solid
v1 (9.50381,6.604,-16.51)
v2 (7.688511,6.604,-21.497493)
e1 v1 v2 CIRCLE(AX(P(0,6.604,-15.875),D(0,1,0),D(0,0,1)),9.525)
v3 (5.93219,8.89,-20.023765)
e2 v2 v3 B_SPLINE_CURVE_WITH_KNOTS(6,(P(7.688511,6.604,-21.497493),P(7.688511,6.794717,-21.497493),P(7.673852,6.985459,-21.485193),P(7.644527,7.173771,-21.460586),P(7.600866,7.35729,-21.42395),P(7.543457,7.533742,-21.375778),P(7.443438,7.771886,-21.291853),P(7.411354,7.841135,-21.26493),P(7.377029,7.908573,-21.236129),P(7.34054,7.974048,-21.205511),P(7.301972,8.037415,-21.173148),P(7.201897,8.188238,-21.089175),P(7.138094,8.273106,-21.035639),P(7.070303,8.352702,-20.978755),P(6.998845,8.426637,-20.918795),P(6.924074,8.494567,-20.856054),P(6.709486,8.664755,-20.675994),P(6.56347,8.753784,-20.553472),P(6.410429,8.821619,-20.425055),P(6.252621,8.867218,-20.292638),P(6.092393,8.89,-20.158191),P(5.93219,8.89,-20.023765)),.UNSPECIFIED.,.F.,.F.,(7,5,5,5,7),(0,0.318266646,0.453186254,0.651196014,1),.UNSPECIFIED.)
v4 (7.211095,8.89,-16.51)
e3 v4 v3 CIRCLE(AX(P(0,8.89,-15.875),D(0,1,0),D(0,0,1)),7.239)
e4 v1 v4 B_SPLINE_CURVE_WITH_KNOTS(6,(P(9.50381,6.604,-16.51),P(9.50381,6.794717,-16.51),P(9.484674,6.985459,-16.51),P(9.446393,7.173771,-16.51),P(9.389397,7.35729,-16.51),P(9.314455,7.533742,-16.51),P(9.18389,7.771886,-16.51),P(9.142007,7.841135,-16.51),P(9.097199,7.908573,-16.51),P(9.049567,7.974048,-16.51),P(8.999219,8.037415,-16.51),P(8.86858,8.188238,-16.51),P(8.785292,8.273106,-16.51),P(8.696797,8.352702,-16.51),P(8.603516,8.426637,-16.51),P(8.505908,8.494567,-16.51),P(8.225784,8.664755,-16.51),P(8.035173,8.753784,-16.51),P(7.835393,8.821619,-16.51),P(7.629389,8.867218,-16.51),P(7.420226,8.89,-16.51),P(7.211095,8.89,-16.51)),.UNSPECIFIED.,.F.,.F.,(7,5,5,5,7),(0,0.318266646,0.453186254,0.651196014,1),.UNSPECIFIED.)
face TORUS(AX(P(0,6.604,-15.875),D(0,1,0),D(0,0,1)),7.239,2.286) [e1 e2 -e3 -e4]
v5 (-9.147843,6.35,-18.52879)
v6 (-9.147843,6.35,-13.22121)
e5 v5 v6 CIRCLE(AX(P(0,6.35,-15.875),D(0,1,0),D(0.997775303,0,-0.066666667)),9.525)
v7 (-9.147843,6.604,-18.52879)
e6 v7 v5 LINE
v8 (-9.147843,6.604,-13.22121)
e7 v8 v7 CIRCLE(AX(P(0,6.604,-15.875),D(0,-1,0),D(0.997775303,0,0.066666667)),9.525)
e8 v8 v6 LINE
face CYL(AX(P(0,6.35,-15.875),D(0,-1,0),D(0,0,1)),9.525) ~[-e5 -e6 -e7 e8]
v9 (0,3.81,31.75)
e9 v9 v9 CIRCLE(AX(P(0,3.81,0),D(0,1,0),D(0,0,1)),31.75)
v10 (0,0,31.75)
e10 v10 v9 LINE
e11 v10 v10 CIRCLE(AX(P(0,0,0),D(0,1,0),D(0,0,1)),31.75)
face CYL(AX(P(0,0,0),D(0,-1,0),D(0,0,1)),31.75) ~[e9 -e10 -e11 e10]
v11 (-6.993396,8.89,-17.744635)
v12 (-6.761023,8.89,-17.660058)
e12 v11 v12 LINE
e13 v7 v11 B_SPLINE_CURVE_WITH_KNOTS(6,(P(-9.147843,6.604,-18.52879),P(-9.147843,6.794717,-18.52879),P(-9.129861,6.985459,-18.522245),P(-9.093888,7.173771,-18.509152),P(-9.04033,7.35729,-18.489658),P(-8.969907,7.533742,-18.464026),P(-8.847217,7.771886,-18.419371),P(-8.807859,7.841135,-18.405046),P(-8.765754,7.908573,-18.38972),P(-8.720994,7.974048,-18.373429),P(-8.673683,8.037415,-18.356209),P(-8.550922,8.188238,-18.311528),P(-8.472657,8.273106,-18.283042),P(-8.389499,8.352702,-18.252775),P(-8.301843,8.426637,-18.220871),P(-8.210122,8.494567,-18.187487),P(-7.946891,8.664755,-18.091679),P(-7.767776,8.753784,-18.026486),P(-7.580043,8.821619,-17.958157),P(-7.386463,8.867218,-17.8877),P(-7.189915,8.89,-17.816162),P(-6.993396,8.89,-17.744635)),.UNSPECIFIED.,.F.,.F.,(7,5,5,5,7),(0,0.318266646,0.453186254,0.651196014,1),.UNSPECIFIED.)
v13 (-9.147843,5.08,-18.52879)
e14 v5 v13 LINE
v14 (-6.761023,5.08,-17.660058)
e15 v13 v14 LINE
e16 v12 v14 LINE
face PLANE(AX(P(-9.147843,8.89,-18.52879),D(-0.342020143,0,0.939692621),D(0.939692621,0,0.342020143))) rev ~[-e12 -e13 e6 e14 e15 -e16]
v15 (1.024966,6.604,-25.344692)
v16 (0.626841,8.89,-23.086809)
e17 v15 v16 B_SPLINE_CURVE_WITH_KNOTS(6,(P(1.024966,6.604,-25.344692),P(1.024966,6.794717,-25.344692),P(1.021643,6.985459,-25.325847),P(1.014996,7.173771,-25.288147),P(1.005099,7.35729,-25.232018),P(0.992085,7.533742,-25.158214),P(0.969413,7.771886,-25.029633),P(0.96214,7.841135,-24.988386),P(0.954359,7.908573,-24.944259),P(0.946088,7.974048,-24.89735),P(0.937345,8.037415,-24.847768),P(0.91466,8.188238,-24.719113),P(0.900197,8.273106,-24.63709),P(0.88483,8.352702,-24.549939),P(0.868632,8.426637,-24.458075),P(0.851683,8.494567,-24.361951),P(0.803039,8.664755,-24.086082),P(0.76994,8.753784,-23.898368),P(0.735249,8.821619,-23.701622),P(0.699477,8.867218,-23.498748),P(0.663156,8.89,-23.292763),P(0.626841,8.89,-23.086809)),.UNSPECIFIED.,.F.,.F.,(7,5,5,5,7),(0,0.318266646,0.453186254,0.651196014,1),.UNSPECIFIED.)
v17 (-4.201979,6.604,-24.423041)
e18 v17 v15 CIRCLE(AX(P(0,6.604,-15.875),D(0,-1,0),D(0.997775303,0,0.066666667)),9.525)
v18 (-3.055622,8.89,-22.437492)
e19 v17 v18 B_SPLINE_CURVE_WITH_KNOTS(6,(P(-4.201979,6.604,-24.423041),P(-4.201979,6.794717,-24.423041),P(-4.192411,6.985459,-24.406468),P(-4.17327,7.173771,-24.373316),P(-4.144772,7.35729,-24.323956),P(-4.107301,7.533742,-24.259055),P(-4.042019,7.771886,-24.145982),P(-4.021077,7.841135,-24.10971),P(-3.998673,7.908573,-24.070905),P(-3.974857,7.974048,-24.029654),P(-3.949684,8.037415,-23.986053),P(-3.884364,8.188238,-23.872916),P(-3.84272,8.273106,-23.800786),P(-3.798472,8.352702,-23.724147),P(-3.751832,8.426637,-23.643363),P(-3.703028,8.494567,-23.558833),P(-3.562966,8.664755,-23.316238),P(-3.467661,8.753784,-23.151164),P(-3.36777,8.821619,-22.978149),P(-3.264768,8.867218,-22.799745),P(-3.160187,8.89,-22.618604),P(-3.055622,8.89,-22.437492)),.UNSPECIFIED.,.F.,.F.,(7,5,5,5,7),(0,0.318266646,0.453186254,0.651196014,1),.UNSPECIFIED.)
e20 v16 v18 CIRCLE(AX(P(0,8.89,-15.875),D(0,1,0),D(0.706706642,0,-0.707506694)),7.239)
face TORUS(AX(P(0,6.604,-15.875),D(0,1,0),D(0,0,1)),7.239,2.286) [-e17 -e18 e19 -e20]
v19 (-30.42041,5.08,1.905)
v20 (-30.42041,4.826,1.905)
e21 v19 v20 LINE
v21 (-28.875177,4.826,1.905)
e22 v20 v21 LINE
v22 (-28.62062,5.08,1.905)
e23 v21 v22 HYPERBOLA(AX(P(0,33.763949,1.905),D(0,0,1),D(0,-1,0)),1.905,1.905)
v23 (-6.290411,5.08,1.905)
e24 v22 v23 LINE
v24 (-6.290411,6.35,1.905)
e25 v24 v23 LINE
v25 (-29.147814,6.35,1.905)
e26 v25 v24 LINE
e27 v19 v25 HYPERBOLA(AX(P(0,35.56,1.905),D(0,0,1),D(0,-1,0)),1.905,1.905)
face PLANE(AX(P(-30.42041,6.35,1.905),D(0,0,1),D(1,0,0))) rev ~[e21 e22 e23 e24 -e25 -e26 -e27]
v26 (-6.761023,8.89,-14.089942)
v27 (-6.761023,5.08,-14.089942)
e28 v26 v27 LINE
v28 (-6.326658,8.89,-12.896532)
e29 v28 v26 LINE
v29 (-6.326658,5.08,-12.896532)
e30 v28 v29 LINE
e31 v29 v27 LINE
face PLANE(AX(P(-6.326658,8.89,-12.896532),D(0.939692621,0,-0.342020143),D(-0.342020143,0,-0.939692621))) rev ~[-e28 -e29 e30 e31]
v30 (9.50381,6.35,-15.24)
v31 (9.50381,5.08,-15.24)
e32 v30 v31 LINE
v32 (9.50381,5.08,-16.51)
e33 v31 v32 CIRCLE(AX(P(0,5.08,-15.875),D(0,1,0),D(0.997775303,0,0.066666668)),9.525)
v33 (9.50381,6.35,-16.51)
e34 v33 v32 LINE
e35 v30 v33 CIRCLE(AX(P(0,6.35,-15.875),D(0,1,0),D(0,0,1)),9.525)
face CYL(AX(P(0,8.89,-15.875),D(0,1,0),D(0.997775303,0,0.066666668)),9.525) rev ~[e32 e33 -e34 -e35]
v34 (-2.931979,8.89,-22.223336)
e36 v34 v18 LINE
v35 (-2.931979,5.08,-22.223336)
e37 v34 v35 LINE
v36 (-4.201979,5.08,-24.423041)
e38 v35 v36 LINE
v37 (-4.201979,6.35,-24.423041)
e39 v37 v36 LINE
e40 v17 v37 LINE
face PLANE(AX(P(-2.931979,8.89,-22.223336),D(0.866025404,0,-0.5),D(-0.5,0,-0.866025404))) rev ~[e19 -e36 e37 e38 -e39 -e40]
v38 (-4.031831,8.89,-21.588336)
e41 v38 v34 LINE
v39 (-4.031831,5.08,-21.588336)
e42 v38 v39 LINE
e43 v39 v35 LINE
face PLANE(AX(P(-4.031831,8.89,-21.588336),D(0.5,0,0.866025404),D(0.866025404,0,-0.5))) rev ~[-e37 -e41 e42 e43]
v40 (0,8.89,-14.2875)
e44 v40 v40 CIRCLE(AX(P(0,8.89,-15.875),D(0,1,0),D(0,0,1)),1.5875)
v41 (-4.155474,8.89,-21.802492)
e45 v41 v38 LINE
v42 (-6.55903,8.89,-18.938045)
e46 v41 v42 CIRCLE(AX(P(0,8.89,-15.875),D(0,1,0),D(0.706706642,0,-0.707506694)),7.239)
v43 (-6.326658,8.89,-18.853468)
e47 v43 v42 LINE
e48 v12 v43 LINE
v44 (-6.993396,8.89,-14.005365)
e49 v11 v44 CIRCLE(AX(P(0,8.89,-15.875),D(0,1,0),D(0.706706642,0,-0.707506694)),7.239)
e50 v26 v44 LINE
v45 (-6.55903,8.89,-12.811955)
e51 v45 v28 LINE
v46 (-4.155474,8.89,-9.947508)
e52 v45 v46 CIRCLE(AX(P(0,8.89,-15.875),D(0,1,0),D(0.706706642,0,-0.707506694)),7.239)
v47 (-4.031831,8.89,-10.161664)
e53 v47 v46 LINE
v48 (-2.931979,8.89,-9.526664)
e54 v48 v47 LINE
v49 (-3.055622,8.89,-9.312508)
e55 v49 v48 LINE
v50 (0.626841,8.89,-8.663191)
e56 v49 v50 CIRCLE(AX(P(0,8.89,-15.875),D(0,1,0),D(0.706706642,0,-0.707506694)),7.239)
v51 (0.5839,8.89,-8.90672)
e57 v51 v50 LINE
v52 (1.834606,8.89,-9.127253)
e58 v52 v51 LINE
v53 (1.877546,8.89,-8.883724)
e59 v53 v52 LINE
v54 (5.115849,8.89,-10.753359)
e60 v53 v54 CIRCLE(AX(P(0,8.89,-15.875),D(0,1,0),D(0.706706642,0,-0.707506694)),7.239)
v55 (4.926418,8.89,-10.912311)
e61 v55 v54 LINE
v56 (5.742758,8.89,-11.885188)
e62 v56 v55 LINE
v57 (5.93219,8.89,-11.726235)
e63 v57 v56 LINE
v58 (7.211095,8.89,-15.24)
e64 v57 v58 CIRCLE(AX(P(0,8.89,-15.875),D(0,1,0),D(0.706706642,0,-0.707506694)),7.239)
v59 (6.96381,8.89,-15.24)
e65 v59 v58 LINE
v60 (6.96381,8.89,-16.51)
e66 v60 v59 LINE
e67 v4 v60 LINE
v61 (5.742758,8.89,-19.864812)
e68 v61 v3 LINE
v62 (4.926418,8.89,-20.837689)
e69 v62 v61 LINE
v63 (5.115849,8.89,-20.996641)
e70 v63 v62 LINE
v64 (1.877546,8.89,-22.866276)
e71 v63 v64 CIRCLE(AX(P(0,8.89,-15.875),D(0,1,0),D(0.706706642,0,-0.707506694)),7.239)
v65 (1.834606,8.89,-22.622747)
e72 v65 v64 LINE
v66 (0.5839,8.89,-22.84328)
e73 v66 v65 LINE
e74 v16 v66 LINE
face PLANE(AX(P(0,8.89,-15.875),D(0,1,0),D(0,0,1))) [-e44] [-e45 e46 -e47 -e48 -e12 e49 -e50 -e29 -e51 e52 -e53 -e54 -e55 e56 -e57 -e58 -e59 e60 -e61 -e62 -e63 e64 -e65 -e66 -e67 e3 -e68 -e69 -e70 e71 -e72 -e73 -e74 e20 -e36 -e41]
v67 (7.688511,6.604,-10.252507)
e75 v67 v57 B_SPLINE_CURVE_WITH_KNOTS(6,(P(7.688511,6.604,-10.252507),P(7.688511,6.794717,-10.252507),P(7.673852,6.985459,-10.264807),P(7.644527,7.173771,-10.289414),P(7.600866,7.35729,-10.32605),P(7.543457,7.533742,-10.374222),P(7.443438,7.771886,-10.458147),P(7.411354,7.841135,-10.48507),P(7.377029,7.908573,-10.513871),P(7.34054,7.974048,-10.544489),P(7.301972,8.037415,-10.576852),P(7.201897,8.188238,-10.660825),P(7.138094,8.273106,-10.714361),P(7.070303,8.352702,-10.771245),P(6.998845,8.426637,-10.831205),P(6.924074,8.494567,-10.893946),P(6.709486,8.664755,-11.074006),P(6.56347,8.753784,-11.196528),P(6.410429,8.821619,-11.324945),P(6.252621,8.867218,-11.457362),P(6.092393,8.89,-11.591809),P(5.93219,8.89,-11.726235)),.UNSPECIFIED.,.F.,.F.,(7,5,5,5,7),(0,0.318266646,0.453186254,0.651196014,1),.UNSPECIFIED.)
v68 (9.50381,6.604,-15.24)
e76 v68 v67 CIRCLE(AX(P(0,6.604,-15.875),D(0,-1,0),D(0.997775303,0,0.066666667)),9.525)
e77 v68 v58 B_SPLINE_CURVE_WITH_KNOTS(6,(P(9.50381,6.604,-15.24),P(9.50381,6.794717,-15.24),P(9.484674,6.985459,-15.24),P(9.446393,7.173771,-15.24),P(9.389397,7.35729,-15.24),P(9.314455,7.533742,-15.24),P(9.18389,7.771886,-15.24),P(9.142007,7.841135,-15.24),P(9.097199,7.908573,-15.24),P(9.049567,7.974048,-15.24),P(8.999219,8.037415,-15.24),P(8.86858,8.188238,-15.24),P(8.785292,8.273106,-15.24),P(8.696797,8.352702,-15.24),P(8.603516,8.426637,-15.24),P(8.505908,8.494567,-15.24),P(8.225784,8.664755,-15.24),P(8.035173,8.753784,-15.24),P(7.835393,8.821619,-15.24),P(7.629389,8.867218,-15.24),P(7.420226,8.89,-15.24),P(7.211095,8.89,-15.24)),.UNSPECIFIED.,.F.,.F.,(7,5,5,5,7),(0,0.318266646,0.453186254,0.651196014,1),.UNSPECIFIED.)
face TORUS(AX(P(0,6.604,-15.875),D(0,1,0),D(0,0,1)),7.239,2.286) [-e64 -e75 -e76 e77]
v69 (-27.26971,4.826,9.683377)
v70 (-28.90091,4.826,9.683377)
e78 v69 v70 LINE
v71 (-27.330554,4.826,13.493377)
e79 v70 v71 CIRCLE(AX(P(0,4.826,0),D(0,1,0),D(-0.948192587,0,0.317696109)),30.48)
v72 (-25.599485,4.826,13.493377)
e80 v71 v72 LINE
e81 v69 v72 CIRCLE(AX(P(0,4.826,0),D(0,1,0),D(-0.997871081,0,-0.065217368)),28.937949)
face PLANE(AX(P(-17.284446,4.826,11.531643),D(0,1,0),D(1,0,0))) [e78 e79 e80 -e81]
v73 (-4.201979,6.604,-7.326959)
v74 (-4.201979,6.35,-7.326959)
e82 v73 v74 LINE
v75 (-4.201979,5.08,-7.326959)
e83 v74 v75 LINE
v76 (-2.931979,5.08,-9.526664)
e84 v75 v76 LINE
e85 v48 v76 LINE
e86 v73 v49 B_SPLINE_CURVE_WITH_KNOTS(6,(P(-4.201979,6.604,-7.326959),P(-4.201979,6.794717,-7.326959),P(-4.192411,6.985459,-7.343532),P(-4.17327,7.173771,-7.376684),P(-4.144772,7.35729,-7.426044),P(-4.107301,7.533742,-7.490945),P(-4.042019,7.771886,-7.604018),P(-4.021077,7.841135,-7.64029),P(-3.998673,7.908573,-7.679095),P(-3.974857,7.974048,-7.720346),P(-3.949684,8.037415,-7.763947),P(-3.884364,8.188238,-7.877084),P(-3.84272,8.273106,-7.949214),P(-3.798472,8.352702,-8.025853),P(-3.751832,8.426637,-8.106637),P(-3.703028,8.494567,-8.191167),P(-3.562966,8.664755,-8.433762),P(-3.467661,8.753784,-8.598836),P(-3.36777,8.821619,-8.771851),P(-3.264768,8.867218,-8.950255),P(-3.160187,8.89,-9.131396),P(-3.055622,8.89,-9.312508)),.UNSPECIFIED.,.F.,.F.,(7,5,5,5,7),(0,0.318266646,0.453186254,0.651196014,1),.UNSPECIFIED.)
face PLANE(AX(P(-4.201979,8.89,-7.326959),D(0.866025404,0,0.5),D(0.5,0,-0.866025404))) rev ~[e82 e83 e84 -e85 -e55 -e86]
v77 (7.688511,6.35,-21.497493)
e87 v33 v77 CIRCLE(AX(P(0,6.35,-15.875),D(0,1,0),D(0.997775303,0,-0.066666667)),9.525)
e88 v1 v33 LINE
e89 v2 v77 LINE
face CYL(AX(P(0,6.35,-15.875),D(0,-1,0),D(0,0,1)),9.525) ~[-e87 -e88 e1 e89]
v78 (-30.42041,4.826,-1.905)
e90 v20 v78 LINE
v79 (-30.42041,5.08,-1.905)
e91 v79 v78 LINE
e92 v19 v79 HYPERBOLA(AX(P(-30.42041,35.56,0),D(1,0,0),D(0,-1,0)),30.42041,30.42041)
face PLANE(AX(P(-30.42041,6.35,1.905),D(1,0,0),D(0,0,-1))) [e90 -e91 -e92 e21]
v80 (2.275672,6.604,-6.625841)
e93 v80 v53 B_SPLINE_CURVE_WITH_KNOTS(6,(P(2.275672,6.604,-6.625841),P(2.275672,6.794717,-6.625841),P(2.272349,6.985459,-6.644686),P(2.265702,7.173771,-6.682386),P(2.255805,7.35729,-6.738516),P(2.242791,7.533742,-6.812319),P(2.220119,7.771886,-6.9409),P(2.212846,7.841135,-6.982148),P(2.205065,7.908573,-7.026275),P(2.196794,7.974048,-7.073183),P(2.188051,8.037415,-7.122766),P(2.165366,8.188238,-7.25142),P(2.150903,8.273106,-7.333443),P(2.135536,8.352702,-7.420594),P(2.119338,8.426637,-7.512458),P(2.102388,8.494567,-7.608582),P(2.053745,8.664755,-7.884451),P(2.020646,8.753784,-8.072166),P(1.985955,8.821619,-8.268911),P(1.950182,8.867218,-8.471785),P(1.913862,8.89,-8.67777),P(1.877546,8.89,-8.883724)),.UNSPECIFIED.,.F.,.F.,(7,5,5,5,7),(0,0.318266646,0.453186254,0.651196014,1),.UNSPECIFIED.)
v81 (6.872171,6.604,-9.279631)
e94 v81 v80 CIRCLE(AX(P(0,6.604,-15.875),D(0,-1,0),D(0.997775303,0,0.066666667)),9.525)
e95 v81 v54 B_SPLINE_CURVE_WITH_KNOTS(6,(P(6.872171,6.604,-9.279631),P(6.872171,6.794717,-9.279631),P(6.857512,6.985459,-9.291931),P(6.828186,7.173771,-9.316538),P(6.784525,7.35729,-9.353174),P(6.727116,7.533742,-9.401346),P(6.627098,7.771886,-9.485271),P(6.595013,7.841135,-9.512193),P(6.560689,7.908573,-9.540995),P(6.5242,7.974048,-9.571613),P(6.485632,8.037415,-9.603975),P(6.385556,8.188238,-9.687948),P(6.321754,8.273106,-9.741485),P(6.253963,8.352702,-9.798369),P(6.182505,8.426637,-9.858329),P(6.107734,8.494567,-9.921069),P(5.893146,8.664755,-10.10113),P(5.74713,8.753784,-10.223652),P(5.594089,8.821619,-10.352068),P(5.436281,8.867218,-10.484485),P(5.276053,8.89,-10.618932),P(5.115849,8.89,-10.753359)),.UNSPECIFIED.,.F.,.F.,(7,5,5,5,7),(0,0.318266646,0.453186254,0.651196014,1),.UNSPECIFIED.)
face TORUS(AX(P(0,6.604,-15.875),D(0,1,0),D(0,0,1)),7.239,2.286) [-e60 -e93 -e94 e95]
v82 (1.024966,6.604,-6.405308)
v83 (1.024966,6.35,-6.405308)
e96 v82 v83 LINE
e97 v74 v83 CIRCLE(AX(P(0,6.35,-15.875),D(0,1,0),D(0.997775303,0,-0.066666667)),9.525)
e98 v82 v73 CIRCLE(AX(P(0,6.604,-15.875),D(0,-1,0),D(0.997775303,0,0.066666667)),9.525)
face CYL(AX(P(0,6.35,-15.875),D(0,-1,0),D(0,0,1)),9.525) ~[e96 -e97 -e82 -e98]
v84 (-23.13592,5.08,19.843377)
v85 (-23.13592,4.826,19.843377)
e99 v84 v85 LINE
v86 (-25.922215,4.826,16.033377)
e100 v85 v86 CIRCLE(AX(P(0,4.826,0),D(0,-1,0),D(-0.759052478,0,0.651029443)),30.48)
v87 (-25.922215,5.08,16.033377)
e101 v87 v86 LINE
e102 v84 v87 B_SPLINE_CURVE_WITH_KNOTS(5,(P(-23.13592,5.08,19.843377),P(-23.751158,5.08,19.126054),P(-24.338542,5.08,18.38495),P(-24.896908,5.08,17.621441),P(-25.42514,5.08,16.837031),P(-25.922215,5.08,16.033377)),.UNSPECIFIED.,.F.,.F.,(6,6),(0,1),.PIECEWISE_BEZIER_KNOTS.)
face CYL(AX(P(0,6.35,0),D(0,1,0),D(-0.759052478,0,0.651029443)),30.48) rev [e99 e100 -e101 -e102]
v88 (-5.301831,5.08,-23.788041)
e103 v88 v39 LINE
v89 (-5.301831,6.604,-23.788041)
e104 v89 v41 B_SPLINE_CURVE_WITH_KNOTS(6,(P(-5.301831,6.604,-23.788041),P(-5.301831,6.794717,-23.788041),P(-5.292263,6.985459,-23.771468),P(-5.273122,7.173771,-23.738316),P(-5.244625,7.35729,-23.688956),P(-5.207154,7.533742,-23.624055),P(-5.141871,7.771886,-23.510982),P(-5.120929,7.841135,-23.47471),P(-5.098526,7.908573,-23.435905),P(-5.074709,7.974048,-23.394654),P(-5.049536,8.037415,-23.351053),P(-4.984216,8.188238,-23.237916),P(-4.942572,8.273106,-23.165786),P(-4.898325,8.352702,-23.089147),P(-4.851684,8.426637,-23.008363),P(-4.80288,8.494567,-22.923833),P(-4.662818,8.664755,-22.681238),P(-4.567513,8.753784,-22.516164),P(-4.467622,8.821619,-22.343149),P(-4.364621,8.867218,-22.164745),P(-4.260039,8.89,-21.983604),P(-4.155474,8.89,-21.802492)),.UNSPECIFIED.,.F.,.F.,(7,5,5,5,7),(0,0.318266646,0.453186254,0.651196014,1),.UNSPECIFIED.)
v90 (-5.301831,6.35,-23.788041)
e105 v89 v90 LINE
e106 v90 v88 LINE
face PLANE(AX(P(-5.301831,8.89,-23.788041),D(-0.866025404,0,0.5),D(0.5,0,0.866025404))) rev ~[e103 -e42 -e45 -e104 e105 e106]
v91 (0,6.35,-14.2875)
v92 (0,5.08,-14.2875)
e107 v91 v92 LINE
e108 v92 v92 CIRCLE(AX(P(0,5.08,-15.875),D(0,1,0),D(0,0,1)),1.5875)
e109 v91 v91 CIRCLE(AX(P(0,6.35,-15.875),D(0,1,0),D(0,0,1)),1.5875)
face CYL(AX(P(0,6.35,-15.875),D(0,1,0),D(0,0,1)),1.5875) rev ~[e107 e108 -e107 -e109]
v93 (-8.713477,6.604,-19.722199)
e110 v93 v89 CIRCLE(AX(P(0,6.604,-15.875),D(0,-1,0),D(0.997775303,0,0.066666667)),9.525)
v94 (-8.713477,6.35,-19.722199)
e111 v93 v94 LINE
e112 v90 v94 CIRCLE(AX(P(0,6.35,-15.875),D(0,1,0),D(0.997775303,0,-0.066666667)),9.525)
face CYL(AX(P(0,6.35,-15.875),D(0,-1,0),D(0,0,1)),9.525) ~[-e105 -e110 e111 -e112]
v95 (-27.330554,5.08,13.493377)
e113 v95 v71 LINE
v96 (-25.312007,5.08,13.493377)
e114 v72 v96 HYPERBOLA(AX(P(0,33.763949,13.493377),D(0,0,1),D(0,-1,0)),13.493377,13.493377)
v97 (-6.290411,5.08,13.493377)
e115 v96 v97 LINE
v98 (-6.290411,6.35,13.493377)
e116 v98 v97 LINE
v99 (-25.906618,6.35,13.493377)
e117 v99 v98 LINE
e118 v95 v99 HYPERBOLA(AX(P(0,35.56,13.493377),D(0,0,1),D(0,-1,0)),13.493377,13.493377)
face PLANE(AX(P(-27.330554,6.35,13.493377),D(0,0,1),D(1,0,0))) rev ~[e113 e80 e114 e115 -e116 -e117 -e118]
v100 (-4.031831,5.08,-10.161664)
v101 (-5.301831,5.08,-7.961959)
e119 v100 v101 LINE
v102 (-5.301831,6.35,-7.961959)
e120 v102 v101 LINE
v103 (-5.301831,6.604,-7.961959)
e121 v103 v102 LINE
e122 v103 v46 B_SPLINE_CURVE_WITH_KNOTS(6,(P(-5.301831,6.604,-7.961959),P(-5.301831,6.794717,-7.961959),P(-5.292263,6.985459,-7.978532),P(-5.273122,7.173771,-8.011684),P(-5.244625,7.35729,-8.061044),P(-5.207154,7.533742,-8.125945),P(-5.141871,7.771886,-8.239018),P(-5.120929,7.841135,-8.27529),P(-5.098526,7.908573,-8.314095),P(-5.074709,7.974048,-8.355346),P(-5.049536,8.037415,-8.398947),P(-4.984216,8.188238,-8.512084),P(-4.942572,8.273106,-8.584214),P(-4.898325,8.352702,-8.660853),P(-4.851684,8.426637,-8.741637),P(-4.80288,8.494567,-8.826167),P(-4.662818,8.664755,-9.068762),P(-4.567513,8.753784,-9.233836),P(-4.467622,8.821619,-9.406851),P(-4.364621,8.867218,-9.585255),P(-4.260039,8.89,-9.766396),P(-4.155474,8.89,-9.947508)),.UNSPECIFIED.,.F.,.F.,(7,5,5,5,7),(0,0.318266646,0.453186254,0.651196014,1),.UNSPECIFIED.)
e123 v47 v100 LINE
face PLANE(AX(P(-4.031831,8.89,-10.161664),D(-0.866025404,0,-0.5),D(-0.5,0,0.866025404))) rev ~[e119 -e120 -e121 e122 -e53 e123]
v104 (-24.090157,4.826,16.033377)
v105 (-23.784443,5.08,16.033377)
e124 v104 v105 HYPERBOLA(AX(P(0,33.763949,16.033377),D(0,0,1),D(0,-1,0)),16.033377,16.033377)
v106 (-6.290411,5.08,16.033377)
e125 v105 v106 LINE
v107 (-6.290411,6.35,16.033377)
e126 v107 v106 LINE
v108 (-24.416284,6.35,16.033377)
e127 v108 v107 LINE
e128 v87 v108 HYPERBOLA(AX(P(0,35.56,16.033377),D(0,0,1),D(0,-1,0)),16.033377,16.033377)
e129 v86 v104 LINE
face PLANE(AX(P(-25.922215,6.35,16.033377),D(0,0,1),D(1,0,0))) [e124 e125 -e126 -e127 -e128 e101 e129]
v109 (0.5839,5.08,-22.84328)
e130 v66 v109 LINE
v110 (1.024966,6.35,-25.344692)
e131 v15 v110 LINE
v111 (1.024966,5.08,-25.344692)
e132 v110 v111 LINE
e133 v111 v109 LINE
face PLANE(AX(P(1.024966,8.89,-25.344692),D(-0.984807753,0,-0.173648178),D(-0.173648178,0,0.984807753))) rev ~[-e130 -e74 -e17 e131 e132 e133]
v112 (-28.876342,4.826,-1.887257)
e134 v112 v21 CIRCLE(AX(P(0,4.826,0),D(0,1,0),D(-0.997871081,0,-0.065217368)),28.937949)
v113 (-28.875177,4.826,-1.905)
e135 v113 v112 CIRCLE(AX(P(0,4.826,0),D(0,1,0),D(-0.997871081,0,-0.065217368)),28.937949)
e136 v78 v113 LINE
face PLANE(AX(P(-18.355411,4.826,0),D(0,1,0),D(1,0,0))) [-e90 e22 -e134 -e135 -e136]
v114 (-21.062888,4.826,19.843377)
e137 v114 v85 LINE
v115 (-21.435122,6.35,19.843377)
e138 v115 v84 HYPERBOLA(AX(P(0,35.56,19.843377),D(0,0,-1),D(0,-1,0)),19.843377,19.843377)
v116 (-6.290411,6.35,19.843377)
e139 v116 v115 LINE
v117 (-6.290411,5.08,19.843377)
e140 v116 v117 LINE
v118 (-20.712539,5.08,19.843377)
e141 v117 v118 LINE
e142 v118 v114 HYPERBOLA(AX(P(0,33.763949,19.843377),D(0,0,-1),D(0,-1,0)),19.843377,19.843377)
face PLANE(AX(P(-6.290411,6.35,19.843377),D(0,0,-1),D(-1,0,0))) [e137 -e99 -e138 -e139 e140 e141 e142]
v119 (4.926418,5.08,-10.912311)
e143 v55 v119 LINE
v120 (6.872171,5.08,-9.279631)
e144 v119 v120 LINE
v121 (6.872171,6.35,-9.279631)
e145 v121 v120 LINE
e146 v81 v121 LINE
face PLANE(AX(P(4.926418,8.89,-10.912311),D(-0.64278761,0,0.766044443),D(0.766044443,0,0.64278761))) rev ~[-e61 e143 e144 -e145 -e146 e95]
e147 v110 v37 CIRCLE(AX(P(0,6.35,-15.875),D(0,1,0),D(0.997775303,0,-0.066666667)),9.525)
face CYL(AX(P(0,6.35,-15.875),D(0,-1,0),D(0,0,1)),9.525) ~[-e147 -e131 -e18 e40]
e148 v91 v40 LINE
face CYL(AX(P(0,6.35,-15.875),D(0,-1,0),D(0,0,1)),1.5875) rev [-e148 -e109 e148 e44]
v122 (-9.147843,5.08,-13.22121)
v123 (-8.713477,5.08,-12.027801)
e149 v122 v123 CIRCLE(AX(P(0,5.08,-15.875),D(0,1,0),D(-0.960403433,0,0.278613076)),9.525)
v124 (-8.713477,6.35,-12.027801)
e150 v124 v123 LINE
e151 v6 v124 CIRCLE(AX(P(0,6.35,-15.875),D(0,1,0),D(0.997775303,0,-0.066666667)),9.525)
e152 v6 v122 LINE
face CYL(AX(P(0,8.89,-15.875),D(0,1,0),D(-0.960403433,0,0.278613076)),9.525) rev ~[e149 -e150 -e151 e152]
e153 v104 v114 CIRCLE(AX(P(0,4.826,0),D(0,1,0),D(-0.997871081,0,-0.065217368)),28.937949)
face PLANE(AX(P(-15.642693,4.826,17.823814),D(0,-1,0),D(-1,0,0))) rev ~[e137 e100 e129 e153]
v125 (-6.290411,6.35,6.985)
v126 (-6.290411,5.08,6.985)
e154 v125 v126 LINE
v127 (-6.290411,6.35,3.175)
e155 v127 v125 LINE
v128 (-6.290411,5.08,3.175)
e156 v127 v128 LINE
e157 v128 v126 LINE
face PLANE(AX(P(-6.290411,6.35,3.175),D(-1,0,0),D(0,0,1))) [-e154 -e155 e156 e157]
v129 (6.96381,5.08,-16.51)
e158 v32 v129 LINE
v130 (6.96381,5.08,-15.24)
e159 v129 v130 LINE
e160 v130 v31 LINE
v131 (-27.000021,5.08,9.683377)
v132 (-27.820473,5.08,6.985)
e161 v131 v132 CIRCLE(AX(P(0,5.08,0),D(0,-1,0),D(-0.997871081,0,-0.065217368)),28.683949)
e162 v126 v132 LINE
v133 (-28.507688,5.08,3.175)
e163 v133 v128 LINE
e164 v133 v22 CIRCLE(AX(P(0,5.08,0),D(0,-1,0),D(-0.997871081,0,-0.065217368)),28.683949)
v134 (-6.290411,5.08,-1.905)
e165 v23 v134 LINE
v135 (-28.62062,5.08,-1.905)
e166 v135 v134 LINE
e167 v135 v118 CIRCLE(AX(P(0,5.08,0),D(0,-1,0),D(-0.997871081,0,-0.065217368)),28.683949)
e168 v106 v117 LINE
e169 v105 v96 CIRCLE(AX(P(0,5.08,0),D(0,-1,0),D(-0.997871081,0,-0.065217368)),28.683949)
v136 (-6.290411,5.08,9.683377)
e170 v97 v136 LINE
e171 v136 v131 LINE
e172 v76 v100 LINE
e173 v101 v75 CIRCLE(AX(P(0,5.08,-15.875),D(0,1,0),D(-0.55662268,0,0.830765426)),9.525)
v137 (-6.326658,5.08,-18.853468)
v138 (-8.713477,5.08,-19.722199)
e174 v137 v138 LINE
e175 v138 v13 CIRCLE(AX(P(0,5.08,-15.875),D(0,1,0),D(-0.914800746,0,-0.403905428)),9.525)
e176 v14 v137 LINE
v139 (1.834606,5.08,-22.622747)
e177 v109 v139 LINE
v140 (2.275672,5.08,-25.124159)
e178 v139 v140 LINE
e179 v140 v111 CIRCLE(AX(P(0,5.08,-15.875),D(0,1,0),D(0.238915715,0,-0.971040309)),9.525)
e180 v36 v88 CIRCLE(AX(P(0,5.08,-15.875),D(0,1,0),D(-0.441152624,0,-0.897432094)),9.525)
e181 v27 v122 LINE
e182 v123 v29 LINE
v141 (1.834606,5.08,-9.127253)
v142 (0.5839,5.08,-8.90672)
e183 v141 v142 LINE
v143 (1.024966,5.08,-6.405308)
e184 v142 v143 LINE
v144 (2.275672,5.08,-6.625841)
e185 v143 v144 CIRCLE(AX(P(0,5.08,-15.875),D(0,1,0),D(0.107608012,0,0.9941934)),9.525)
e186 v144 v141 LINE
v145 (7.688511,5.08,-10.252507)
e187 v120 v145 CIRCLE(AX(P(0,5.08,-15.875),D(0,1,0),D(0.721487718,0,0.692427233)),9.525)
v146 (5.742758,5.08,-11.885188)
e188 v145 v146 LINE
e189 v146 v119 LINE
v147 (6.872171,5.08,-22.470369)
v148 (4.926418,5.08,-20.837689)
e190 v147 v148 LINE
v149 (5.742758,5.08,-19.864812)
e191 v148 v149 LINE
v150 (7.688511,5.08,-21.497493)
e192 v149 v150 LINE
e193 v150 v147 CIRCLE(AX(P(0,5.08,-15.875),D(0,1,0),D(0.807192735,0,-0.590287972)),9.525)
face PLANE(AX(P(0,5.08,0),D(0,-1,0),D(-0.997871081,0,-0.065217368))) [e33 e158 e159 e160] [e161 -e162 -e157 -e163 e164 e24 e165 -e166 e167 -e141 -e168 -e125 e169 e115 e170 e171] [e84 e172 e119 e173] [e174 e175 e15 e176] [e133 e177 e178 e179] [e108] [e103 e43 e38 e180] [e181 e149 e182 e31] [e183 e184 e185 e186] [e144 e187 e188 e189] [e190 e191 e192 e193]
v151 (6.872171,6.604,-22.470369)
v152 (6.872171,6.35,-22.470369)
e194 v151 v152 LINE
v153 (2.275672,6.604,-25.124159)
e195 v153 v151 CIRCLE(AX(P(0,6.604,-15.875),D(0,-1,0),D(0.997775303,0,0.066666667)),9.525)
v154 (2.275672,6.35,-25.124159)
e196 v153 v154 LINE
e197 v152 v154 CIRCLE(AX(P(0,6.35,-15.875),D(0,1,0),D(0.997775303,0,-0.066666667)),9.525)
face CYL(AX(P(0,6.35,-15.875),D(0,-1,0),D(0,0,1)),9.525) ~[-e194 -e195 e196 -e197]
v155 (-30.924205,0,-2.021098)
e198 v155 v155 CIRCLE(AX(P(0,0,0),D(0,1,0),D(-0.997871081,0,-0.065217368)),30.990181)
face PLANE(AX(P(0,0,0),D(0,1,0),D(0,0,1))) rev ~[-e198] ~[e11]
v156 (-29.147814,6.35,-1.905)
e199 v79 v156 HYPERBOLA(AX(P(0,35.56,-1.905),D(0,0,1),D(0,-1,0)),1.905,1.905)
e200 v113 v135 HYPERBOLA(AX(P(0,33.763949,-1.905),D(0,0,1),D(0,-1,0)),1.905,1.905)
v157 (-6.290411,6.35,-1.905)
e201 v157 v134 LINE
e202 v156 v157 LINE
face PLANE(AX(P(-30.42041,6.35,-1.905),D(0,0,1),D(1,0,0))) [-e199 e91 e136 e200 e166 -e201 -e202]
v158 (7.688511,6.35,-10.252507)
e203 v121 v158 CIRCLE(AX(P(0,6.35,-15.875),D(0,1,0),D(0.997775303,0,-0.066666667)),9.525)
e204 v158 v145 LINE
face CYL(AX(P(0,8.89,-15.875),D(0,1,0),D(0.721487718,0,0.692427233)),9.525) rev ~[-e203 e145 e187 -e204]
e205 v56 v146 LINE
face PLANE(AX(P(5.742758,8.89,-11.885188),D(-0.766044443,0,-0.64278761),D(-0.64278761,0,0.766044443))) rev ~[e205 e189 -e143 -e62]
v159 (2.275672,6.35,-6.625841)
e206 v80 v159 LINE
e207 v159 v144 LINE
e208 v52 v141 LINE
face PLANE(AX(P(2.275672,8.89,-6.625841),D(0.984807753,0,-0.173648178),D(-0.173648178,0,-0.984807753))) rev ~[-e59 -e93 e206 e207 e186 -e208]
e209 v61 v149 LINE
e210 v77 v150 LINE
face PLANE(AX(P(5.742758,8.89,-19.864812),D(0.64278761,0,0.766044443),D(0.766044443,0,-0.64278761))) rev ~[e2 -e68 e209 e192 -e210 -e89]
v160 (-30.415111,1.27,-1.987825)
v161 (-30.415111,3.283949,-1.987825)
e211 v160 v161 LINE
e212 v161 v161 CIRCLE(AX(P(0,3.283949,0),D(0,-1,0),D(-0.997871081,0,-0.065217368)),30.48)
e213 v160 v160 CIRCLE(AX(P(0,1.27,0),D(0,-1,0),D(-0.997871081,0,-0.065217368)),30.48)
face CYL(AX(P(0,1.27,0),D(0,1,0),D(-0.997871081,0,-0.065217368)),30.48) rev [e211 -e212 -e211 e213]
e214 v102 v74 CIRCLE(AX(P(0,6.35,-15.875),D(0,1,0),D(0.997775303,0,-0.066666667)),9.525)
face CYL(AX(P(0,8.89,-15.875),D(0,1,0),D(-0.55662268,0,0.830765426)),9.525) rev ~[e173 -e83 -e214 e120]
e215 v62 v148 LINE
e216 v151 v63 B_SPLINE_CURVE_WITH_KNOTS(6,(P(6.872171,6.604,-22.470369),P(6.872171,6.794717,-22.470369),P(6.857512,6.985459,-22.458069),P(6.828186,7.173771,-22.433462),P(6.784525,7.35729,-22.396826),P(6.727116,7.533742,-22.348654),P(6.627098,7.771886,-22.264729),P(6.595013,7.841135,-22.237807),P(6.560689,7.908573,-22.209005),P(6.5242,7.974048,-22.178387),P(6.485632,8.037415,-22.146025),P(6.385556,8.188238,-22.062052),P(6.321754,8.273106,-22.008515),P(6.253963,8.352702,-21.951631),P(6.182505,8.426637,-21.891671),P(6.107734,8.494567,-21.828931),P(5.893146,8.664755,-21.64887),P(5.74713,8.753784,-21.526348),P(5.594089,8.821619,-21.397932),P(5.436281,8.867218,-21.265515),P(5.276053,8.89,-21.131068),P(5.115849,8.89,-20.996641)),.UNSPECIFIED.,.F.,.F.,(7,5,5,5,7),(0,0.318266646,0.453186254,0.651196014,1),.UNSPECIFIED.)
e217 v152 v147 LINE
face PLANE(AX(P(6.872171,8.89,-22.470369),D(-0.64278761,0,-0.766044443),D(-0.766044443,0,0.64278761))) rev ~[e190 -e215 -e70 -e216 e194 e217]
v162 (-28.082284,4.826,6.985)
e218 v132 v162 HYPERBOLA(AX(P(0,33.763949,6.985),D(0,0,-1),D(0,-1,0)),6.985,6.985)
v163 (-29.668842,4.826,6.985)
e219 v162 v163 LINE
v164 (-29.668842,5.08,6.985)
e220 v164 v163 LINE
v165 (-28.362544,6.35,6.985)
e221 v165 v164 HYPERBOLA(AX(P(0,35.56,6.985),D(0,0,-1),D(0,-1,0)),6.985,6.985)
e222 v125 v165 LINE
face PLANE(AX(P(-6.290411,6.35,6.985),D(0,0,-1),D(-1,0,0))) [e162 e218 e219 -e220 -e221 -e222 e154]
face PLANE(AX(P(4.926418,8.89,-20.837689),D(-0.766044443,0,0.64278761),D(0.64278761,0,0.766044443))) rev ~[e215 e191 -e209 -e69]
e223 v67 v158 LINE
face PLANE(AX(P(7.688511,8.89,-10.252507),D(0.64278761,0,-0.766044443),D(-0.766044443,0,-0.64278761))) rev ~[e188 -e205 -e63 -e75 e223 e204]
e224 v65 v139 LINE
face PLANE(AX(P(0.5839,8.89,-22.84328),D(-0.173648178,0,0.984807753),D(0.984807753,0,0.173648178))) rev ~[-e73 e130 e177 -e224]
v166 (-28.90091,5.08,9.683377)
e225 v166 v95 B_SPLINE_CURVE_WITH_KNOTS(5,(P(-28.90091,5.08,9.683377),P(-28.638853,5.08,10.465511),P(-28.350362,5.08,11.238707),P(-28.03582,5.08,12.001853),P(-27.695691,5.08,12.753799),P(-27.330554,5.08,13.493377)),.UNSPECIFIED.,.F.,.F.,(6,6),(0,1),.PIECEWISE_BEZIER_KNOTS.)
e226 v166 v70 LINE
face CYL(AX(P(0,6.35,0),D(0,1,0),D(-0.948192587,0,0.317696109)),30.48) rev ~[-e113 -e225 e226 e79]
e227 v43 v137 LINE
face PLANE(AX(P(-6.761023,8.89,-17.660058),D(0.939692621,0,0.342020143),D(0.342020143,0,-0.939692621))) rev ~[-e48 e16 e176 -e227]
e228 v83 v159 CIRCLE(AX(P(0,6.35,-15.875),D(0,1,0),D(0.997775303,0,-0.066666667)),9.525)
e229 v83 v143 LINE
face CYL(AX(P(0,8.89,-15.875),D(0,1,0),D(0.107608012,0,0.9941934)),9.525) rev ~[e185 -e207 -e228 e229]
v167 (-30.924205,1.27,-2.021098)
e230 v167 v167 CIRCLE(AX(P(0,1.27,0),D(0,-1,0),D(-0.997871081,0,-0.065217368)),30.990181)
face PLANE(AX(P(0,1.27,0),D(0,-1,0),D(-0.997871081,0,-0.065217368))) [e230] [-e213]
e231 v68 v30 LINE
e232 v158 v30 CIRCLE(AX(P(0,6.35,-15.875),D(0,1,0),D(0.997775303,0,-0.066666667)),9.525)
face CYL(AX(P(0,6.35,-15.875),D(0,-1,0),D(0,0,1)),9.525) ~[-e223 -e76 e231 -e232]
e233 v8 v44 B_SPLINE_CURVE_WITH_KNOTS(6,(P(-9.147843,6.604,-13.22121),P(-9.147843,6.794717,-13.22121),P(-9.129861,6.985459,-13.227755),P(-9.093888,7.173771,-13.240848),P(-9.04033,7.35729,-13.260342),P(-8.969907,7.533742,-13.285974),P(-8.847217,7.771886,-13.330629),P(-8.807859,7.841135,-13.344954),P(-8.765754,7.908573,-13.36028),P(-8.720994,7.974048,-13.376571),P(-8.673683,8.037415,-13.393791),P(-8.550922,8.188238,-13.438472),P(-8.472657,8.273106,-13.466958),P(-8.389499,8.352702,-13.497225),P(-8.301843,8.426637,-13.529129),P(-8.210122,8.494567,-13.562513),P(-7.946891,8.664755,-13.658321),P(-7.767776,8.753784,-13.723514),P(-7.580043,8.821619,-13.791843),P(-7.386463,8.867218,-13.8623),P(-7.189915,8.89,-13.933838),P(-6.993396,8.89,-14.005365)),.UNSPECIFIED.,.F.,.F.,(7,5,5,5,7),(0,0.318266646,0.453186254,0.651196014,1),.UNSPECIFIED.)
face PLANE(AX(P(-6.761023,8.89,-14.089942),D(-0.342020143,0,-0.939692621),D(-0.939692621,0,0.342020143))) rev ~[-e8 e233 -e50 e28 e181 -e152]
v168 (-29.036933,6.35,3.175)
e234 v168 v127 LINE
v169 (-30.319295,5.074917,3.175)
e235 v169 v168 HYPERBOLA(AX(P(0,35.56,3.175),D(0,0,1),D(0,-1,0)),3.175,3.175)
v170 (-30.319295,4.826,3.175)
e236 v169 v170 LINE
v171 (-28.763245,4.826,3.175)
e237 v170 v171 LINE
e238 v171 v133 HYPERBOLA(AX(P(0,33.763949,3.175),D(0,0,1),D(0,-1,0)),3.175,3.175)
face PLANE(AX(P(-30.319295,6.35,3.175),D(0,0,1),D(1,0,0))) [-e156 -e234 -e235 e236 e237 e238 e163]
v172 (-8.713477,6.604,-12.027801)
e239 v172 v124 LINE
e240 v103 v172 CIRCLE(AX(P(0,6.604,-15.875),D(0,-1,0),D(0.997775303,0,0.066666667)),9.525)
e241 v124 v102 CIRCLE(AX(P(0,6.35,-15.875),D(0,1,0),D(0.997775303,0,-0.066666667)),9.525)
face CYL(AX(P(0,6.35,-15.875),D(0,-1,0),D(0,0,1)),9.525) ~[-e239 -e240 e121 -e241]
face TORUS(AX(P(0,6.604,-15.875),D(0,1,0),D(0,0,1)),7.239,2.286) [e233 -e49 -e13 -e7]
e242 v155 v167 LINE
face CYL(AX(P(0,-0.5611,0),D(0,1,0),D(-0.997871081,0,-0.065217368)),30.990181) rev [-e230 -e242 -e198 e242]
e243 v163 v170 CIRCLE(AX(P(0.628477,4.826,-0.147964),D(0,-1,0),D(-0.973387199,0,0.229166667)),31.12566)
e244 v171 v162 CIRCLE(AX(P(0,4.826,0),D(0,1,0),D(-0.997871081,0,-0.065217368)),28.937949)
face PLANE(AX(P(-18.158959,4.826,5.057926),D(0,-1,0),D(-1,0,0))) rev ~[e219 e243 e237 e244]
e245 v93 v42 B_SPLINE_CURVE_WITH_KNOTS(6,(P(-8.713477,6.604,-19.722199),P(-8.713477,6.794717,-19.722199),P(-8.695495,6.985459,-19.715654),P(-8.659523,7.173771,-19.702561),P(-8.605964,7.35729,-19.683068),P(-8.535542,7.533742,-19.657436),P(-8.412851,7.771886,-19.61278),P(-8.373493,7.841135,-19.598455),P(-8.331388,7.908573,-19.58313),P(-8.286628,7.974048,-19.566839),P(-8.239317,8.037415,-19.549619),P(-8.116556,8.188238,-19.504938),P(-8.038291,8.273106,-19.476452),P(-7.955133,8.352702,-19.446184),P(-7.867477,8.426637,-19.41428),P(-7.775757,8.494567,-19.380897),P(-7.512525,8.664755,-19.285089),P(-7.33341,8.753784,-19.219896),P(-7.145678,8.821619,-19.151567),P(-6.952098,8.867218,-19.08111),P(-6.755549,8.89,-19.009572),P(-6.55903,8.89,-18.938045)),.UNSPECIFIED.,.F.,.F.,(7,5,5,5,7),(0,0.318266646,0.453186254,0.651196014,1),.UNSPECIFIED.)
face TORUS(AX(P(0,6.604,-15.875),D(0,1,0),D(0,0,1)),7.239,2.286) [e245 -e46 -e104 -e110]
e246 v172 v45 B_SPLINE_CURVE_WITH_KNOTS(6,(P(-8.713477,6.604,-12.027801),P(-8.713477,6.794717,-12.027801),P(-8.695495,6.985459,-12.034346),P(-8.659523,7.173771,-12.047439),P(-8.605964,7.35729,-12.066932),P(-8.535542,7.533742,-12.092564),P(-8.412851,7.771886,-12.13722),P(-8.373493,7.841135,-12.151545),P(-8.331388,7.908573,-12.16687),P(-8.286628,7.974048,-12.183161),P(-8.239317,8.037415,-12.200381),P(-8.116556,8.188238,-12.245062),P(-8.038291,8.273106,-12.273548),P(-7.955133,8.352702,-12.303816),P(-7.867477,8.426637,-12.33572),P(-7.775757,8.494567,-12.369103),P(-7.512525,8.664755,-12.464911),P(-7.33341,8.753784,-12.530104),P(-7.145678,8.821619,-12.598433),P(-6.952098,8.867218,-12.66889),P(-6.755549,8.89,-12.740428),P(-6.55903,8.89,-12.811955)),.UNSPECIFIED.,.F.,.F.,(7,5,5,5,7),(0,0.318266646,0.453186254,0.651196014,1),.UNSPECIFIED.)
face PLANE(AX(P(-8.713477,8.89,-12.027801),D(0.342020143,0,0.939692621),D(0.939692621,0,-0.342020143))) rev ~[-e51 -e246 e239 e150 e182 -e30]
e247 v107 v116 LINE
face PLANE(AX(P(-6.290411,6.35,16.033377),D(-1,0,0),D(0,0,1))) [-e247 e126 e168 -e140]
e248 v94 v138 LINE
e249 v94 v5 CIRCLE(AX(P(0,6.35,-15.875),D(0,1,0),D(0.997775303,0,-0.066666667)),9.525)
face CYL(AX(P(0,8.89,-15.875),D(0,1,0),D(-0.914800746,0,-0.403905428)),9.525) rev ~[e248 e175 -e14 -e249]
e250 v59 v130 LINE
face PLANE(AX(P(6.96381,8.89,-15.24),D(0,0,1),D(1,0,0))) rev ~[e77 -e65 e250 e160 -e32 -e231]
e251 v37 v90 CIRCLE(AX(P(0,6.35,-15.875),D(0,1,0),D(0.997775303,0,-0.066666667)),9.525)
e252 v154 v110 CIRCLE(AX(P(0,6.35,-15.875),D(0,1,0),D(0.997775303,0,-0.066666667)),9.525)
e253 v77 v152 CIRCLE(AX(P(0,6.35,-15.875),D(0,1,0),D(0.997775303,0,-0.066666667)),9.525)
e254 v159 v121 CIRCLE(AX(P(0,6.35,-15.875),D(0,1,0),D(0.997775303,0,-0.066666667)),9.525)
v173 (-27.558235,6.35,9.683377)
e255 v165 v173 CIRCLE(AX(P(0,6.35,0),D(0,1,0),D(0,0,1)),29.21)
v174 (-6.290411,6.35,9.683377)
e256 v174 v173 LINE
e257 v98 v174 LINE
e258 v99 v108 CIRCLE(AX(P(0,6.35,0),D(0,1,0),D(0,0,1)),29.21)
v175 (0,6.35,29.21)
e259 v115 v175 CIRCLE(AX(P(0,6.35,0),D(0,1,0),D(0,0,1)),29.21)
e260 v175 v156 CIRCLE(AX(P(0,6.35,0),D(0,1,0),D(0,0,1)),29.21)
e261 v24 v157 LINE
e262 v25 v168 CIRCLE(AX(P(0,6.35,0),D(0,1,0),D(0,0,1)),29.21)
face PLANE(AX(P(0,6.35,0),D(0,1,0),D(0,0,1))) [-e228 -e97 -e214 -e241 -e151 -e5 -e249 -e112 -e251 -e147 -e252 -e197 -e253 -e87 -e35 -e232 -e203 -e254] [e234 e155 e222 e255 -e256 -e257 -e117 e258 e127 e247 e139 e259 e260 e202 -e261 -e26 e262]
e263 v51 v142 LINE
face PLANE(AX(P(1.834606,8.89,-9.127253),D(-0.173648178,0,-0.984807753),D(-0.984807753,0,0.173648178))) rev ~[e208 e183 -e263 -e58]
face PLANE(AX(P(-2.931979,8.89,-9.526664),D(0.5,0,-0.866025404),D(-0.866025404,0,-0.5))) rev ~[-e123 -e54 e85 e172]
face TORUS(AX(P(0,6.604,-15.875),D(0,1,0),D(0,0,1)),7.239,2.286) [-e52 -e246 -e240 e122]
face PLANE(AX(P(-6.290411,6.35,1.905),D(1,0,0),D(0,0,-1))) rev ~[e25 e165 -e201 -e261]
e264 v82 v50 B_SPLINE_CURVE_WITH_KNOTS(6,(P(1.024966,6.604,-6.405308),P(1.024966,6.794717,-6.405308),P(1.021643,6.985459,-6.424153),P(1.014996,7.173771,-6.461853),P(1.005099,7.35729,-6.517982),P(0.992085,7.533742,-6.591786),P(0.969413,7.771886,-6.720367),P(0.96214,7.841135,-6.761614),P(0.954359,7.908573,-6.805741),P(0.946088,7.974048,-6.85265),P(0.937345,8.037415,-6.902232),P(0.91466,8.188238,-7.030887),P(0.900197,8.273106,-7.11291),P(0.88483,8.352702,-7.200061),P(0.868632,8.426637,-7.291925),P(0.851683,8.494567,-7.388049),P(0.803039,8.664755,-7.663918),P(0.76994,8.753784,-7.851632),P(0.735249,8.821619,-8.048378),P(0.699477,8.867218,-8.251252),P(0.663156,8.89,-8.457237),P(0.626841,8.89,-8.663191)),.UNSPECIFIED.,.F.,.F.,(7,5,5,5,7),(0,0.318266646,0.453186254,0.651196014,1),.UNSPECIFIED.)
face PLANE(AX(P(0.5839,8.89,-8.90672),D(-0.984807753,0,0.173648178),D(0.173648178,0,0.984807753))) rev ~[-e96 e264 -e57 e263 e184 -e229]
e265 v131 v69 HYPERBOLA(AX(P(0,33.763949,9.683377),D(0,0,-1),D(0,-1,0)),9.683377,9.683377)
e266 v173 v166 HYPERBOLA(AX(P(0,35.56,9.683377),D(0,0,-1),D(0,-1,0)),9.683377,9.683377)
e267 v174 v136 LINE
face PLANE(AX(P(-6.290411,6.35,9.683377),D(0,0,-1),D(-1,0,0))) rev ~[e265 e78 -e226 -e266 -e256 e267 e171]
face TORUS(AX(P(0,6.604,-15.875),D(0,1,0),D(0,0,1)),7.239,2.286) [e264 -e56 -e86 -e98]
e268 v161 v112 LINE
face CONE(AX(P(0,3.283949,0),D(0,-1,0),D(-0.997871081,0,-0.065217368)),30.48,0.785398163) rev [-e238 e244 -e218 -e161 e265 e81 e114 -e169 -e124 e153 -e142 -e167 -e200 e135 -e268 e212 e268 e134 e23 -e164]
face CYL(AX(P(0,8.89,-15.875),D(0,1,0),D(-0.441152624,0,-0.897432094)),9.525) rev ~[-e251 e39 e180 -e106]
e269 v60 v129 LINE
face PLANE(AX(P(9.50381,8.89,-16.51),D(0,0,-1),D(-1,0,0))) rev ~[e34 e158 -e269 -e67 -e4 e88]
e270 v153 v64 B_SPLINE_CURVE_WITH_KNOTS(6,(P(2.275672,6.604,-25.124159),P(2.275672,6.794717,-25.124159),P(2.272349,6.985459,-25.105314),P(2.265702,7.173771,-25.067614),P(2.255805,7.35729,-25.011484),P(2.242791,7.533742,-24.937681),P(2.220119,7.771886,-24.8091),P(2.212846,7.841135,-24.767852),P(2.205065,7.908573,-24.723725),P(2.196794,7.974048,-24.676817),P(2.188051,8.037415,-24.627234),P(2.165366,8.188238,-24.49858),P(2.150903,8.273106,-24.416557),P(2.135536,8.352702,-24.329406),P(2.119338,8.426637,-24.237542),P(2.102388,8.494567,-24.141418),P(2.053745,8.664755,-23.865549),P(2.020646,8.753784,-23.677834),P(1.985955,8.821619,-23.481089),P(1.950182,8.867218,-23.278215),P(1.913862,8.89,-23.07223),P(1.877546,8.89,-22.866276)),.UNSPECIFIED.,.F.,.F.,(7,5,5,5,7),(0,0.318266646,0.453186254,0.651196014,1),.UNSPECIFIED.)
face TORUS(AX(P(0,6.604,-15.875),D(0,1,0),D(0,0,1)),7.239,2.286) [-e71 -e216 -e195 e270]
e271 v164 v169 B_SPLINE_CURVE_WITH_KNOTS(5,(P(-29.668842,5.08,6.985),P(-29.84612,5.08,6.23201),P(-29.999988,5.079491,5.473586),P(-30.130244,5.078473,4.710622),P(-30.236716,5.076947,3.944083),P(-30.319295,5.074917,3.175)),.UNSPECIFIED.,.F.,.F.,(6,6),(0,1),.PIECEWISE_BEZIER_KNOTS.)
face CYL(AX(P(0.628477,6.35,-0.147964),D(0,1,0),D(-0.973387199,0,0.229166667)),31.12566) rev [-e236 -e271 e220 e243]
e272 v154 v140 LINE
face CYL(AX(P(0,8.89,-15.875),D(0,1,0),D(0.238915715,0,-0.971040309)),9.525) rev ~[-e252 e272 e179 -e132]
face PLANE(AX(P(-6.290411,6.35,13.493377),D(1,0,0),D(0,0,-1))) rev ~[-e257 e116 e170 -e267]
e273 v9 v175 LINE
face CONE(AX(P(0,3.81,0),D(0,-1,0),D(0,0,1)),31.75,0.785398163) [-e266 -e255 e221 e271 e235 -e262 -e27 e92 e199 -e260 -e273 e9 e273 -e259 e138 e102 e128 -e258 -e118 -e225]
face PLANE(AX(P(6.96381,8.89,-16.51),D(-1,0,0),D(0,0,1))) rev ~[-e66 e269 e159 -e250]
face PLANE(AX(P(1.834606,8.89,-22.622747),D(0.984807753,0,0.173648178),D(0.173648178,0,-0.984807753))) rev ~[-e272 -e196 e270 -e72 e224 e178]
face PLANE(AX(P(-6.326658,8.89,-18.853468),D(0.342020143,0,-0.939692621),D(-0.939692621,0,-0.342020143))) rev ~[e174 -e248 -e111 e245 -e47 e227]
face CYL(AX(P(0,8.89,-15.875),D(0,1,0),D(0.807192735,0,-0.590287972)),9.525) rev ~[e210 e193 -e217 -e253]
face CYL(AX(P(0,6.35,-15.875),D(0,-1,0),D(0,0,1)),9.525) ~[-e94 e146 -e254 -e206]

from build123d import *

# Parameters (mm, degrees)
SKETCH1_R           = 31.75
BOSS_EXTRUDE1_DEPTH = 6.35
CHAMFER2_SIZE       = 2.54
SKETCH2_R           = 9.525
SKETCH2_R_2         = 1.5875
BOSS_EXTRUDE2_DEPTH = 2.54
SKETCH2_2_R         = 1.5875
CUT_EXTRUDE1_DEPTH  = 46.348070521
FILLET1_R           = 2.286
CUT_EXTRUDE4_DEPTH  = 46.772886079
CIRPATTERN1_COUNT   = 9
SKETCH5_W           = 24.13
SKETCH5_H           = 3.81
CUT_EXTRUDE5_DEPTH  = 1.524


with BuildPart() as part:
    # Sketch1 → Boss-Extrude1 (new body)
    with BuildSketch(Plane(origin=(0, 0, 0), x_dir=(1, 0, 0), z_dir=(0, 1, 0))):
        Circle(SKETCH1_R)
    extrude(amount=BOSS_EXTRUDE1_DEPTH)

    # Chamfer2
    chamfer2_edges = [part.edges().sort_by_distance(p)[0] for p in [
        (-31.75, 6.35, 0),
    ]]
    chamfer(chamfer2_edges, length=CHAMFER2_SIZE)

    # Sketch2 → Boss-Extrude2 (add)
    with BuildSketch(Plane(origin=(0, 6.35, 0), x_dir=(1, 0, 0), z_dir=(0, 1, 0))):
        with Locations((0, 15.875)):
            Circle(SKETCH2_R)
        with Locations((0, 15.875)):
            Circle(SKETCH2_R_2, mode=Mode.SUBTRACT)
    extrude(amount=BOSS_EXTRUDE2_DEPTH)

    # Sketch2<2> → Cut-Extrude1 (cut, through all)
    with BuildSketch(Plane(origin=(0, 6.35, 0), x_dir=(1, 0, 0), z_dir=(0, 1, 0))):
        with Locations((0, 15.875)):
            Circle(SKETCH2_2_R)
    extrude(amount=-CUT_EXTRUDE1_DEPTH, mode=Mode.SUBTRACT)

    # Fillet1
    fillet1_edges = [part.edges().sort_by_distance(p)[0] for p in [
        (-9.525, 8.89, -15.875),
    ]]
    fillet(fillet1_edges, radius=FILLET1_R)

    # Sketch4 → Cut-Extrude4 (cut, through all)
    with BuildSketch(Plane(origin=(0, 8.89, 0), x_dir=(1, 0, 0), z_dir=(0, 1, 0))):
        with BuildLine():
            Line((9.503809762, 16.51), (6.963809762, 16.51))
            Line((6.963809762, 16.51), (6.963809762, 15.24))
            Line((6.963809762, 15.24), (9.503809762, 15.24))
            ThreePointArc((9.503809762, 15.24), (9.525, 15.875), (9.503809762, 16.51))
        make_face()
    cut_extrude4 = extrude(amount=-CUT_EXTRUDE4_DEPTH, mode=Mode.SUBTRACT)

    # CirPattern1: Cut-Extrude4 ×9 about axis
    cirpattern1_axis = Axis((0, 8.89, -15.875), (0, 1, 0))
    for i in range(1, CIRPATTERN1_COUNT):
        add(cut_extrude4.rotate(cirpattern1_axis, i * 360 / CIRPATTERN1_COUNT), mode=Mode.SUBTRACT)

    # Sketch5 → Cut-Extrude5 (cut)
    with BuildSketch(Plane(origin=(0, 6.35, 0), x_dir=(1, 0, 0), z_dir=(0, 1, 0))):
        with Locations((-18.3554105, 0)):
            Rectangle(SKETCH5_W, SKETCH5_H)
        with BuildLine():
            Line((-6.2904105, -3.175), (-6.2904105, -6.985))
            Line((-6.2904105, -6.985), (-29.668841821, -6.985))
            ThreePointArc((-29.668841821, -6.985), (-30.053265488, -5.090106258), (-30.319295317, -3.175))
            Line((-30.319295317, -3.175), (-6.2904105, -3.175))
        make_face()
        with BuildLine():
            Line((-6.2904105, -13.493377405), (-6.2904105, -9.683377405))
            Line((-6.2904105, -9.683377405), (-28.900910055, -9.683377405))
            ThreePointArc((-28.900910055, -9.683377405), (-28.18019525, -11.614947079), (-27.330553712, -13.493377405))
            Line((-27.330553712, -13.493377405), (-6.2904105, -13.493377405))
        make_face()
        with BuildLine():
            Line((-6.2904105, -16.033377405), (-6.2904105, -19.843377405))
            Line((-6.2904105, -19.843377405), (-23.135919544, -19.843377405))
            ThreePointArc((-23.135919544, -19.843377405), (-24.602929827, -17.992394058), (-25.922214585, -16.033377405))
            Line((-25.922214585, -16.033377405), (-6.2904105, -16.033377405))
        make_face()
    extrude(amount=-CUT_EXTRUDE5_DEPTH, mode=Mode.SUBTRACT)

    # Sketch6 → Cut-Revolve1 (revolve, cut)
    with BuildSketch(Plane(origin=(0, 0, 0), x_dir=(0, 0, -1), z_dir=(1, 0, 0))):
        Polygon((-30.48, 3.283948776), (-28.683948776, 5.08), (0, 5.08), (0, -0.561099899), (-30.990180808, -0.561099899), (-30.990180808, 1.27), (-30.48, 1.27), align=None)
    revolve(axis=Axis((0, 0, 0), (0, -1, 0)), mode=Mode.SUBTRACT)


solid = part.part
